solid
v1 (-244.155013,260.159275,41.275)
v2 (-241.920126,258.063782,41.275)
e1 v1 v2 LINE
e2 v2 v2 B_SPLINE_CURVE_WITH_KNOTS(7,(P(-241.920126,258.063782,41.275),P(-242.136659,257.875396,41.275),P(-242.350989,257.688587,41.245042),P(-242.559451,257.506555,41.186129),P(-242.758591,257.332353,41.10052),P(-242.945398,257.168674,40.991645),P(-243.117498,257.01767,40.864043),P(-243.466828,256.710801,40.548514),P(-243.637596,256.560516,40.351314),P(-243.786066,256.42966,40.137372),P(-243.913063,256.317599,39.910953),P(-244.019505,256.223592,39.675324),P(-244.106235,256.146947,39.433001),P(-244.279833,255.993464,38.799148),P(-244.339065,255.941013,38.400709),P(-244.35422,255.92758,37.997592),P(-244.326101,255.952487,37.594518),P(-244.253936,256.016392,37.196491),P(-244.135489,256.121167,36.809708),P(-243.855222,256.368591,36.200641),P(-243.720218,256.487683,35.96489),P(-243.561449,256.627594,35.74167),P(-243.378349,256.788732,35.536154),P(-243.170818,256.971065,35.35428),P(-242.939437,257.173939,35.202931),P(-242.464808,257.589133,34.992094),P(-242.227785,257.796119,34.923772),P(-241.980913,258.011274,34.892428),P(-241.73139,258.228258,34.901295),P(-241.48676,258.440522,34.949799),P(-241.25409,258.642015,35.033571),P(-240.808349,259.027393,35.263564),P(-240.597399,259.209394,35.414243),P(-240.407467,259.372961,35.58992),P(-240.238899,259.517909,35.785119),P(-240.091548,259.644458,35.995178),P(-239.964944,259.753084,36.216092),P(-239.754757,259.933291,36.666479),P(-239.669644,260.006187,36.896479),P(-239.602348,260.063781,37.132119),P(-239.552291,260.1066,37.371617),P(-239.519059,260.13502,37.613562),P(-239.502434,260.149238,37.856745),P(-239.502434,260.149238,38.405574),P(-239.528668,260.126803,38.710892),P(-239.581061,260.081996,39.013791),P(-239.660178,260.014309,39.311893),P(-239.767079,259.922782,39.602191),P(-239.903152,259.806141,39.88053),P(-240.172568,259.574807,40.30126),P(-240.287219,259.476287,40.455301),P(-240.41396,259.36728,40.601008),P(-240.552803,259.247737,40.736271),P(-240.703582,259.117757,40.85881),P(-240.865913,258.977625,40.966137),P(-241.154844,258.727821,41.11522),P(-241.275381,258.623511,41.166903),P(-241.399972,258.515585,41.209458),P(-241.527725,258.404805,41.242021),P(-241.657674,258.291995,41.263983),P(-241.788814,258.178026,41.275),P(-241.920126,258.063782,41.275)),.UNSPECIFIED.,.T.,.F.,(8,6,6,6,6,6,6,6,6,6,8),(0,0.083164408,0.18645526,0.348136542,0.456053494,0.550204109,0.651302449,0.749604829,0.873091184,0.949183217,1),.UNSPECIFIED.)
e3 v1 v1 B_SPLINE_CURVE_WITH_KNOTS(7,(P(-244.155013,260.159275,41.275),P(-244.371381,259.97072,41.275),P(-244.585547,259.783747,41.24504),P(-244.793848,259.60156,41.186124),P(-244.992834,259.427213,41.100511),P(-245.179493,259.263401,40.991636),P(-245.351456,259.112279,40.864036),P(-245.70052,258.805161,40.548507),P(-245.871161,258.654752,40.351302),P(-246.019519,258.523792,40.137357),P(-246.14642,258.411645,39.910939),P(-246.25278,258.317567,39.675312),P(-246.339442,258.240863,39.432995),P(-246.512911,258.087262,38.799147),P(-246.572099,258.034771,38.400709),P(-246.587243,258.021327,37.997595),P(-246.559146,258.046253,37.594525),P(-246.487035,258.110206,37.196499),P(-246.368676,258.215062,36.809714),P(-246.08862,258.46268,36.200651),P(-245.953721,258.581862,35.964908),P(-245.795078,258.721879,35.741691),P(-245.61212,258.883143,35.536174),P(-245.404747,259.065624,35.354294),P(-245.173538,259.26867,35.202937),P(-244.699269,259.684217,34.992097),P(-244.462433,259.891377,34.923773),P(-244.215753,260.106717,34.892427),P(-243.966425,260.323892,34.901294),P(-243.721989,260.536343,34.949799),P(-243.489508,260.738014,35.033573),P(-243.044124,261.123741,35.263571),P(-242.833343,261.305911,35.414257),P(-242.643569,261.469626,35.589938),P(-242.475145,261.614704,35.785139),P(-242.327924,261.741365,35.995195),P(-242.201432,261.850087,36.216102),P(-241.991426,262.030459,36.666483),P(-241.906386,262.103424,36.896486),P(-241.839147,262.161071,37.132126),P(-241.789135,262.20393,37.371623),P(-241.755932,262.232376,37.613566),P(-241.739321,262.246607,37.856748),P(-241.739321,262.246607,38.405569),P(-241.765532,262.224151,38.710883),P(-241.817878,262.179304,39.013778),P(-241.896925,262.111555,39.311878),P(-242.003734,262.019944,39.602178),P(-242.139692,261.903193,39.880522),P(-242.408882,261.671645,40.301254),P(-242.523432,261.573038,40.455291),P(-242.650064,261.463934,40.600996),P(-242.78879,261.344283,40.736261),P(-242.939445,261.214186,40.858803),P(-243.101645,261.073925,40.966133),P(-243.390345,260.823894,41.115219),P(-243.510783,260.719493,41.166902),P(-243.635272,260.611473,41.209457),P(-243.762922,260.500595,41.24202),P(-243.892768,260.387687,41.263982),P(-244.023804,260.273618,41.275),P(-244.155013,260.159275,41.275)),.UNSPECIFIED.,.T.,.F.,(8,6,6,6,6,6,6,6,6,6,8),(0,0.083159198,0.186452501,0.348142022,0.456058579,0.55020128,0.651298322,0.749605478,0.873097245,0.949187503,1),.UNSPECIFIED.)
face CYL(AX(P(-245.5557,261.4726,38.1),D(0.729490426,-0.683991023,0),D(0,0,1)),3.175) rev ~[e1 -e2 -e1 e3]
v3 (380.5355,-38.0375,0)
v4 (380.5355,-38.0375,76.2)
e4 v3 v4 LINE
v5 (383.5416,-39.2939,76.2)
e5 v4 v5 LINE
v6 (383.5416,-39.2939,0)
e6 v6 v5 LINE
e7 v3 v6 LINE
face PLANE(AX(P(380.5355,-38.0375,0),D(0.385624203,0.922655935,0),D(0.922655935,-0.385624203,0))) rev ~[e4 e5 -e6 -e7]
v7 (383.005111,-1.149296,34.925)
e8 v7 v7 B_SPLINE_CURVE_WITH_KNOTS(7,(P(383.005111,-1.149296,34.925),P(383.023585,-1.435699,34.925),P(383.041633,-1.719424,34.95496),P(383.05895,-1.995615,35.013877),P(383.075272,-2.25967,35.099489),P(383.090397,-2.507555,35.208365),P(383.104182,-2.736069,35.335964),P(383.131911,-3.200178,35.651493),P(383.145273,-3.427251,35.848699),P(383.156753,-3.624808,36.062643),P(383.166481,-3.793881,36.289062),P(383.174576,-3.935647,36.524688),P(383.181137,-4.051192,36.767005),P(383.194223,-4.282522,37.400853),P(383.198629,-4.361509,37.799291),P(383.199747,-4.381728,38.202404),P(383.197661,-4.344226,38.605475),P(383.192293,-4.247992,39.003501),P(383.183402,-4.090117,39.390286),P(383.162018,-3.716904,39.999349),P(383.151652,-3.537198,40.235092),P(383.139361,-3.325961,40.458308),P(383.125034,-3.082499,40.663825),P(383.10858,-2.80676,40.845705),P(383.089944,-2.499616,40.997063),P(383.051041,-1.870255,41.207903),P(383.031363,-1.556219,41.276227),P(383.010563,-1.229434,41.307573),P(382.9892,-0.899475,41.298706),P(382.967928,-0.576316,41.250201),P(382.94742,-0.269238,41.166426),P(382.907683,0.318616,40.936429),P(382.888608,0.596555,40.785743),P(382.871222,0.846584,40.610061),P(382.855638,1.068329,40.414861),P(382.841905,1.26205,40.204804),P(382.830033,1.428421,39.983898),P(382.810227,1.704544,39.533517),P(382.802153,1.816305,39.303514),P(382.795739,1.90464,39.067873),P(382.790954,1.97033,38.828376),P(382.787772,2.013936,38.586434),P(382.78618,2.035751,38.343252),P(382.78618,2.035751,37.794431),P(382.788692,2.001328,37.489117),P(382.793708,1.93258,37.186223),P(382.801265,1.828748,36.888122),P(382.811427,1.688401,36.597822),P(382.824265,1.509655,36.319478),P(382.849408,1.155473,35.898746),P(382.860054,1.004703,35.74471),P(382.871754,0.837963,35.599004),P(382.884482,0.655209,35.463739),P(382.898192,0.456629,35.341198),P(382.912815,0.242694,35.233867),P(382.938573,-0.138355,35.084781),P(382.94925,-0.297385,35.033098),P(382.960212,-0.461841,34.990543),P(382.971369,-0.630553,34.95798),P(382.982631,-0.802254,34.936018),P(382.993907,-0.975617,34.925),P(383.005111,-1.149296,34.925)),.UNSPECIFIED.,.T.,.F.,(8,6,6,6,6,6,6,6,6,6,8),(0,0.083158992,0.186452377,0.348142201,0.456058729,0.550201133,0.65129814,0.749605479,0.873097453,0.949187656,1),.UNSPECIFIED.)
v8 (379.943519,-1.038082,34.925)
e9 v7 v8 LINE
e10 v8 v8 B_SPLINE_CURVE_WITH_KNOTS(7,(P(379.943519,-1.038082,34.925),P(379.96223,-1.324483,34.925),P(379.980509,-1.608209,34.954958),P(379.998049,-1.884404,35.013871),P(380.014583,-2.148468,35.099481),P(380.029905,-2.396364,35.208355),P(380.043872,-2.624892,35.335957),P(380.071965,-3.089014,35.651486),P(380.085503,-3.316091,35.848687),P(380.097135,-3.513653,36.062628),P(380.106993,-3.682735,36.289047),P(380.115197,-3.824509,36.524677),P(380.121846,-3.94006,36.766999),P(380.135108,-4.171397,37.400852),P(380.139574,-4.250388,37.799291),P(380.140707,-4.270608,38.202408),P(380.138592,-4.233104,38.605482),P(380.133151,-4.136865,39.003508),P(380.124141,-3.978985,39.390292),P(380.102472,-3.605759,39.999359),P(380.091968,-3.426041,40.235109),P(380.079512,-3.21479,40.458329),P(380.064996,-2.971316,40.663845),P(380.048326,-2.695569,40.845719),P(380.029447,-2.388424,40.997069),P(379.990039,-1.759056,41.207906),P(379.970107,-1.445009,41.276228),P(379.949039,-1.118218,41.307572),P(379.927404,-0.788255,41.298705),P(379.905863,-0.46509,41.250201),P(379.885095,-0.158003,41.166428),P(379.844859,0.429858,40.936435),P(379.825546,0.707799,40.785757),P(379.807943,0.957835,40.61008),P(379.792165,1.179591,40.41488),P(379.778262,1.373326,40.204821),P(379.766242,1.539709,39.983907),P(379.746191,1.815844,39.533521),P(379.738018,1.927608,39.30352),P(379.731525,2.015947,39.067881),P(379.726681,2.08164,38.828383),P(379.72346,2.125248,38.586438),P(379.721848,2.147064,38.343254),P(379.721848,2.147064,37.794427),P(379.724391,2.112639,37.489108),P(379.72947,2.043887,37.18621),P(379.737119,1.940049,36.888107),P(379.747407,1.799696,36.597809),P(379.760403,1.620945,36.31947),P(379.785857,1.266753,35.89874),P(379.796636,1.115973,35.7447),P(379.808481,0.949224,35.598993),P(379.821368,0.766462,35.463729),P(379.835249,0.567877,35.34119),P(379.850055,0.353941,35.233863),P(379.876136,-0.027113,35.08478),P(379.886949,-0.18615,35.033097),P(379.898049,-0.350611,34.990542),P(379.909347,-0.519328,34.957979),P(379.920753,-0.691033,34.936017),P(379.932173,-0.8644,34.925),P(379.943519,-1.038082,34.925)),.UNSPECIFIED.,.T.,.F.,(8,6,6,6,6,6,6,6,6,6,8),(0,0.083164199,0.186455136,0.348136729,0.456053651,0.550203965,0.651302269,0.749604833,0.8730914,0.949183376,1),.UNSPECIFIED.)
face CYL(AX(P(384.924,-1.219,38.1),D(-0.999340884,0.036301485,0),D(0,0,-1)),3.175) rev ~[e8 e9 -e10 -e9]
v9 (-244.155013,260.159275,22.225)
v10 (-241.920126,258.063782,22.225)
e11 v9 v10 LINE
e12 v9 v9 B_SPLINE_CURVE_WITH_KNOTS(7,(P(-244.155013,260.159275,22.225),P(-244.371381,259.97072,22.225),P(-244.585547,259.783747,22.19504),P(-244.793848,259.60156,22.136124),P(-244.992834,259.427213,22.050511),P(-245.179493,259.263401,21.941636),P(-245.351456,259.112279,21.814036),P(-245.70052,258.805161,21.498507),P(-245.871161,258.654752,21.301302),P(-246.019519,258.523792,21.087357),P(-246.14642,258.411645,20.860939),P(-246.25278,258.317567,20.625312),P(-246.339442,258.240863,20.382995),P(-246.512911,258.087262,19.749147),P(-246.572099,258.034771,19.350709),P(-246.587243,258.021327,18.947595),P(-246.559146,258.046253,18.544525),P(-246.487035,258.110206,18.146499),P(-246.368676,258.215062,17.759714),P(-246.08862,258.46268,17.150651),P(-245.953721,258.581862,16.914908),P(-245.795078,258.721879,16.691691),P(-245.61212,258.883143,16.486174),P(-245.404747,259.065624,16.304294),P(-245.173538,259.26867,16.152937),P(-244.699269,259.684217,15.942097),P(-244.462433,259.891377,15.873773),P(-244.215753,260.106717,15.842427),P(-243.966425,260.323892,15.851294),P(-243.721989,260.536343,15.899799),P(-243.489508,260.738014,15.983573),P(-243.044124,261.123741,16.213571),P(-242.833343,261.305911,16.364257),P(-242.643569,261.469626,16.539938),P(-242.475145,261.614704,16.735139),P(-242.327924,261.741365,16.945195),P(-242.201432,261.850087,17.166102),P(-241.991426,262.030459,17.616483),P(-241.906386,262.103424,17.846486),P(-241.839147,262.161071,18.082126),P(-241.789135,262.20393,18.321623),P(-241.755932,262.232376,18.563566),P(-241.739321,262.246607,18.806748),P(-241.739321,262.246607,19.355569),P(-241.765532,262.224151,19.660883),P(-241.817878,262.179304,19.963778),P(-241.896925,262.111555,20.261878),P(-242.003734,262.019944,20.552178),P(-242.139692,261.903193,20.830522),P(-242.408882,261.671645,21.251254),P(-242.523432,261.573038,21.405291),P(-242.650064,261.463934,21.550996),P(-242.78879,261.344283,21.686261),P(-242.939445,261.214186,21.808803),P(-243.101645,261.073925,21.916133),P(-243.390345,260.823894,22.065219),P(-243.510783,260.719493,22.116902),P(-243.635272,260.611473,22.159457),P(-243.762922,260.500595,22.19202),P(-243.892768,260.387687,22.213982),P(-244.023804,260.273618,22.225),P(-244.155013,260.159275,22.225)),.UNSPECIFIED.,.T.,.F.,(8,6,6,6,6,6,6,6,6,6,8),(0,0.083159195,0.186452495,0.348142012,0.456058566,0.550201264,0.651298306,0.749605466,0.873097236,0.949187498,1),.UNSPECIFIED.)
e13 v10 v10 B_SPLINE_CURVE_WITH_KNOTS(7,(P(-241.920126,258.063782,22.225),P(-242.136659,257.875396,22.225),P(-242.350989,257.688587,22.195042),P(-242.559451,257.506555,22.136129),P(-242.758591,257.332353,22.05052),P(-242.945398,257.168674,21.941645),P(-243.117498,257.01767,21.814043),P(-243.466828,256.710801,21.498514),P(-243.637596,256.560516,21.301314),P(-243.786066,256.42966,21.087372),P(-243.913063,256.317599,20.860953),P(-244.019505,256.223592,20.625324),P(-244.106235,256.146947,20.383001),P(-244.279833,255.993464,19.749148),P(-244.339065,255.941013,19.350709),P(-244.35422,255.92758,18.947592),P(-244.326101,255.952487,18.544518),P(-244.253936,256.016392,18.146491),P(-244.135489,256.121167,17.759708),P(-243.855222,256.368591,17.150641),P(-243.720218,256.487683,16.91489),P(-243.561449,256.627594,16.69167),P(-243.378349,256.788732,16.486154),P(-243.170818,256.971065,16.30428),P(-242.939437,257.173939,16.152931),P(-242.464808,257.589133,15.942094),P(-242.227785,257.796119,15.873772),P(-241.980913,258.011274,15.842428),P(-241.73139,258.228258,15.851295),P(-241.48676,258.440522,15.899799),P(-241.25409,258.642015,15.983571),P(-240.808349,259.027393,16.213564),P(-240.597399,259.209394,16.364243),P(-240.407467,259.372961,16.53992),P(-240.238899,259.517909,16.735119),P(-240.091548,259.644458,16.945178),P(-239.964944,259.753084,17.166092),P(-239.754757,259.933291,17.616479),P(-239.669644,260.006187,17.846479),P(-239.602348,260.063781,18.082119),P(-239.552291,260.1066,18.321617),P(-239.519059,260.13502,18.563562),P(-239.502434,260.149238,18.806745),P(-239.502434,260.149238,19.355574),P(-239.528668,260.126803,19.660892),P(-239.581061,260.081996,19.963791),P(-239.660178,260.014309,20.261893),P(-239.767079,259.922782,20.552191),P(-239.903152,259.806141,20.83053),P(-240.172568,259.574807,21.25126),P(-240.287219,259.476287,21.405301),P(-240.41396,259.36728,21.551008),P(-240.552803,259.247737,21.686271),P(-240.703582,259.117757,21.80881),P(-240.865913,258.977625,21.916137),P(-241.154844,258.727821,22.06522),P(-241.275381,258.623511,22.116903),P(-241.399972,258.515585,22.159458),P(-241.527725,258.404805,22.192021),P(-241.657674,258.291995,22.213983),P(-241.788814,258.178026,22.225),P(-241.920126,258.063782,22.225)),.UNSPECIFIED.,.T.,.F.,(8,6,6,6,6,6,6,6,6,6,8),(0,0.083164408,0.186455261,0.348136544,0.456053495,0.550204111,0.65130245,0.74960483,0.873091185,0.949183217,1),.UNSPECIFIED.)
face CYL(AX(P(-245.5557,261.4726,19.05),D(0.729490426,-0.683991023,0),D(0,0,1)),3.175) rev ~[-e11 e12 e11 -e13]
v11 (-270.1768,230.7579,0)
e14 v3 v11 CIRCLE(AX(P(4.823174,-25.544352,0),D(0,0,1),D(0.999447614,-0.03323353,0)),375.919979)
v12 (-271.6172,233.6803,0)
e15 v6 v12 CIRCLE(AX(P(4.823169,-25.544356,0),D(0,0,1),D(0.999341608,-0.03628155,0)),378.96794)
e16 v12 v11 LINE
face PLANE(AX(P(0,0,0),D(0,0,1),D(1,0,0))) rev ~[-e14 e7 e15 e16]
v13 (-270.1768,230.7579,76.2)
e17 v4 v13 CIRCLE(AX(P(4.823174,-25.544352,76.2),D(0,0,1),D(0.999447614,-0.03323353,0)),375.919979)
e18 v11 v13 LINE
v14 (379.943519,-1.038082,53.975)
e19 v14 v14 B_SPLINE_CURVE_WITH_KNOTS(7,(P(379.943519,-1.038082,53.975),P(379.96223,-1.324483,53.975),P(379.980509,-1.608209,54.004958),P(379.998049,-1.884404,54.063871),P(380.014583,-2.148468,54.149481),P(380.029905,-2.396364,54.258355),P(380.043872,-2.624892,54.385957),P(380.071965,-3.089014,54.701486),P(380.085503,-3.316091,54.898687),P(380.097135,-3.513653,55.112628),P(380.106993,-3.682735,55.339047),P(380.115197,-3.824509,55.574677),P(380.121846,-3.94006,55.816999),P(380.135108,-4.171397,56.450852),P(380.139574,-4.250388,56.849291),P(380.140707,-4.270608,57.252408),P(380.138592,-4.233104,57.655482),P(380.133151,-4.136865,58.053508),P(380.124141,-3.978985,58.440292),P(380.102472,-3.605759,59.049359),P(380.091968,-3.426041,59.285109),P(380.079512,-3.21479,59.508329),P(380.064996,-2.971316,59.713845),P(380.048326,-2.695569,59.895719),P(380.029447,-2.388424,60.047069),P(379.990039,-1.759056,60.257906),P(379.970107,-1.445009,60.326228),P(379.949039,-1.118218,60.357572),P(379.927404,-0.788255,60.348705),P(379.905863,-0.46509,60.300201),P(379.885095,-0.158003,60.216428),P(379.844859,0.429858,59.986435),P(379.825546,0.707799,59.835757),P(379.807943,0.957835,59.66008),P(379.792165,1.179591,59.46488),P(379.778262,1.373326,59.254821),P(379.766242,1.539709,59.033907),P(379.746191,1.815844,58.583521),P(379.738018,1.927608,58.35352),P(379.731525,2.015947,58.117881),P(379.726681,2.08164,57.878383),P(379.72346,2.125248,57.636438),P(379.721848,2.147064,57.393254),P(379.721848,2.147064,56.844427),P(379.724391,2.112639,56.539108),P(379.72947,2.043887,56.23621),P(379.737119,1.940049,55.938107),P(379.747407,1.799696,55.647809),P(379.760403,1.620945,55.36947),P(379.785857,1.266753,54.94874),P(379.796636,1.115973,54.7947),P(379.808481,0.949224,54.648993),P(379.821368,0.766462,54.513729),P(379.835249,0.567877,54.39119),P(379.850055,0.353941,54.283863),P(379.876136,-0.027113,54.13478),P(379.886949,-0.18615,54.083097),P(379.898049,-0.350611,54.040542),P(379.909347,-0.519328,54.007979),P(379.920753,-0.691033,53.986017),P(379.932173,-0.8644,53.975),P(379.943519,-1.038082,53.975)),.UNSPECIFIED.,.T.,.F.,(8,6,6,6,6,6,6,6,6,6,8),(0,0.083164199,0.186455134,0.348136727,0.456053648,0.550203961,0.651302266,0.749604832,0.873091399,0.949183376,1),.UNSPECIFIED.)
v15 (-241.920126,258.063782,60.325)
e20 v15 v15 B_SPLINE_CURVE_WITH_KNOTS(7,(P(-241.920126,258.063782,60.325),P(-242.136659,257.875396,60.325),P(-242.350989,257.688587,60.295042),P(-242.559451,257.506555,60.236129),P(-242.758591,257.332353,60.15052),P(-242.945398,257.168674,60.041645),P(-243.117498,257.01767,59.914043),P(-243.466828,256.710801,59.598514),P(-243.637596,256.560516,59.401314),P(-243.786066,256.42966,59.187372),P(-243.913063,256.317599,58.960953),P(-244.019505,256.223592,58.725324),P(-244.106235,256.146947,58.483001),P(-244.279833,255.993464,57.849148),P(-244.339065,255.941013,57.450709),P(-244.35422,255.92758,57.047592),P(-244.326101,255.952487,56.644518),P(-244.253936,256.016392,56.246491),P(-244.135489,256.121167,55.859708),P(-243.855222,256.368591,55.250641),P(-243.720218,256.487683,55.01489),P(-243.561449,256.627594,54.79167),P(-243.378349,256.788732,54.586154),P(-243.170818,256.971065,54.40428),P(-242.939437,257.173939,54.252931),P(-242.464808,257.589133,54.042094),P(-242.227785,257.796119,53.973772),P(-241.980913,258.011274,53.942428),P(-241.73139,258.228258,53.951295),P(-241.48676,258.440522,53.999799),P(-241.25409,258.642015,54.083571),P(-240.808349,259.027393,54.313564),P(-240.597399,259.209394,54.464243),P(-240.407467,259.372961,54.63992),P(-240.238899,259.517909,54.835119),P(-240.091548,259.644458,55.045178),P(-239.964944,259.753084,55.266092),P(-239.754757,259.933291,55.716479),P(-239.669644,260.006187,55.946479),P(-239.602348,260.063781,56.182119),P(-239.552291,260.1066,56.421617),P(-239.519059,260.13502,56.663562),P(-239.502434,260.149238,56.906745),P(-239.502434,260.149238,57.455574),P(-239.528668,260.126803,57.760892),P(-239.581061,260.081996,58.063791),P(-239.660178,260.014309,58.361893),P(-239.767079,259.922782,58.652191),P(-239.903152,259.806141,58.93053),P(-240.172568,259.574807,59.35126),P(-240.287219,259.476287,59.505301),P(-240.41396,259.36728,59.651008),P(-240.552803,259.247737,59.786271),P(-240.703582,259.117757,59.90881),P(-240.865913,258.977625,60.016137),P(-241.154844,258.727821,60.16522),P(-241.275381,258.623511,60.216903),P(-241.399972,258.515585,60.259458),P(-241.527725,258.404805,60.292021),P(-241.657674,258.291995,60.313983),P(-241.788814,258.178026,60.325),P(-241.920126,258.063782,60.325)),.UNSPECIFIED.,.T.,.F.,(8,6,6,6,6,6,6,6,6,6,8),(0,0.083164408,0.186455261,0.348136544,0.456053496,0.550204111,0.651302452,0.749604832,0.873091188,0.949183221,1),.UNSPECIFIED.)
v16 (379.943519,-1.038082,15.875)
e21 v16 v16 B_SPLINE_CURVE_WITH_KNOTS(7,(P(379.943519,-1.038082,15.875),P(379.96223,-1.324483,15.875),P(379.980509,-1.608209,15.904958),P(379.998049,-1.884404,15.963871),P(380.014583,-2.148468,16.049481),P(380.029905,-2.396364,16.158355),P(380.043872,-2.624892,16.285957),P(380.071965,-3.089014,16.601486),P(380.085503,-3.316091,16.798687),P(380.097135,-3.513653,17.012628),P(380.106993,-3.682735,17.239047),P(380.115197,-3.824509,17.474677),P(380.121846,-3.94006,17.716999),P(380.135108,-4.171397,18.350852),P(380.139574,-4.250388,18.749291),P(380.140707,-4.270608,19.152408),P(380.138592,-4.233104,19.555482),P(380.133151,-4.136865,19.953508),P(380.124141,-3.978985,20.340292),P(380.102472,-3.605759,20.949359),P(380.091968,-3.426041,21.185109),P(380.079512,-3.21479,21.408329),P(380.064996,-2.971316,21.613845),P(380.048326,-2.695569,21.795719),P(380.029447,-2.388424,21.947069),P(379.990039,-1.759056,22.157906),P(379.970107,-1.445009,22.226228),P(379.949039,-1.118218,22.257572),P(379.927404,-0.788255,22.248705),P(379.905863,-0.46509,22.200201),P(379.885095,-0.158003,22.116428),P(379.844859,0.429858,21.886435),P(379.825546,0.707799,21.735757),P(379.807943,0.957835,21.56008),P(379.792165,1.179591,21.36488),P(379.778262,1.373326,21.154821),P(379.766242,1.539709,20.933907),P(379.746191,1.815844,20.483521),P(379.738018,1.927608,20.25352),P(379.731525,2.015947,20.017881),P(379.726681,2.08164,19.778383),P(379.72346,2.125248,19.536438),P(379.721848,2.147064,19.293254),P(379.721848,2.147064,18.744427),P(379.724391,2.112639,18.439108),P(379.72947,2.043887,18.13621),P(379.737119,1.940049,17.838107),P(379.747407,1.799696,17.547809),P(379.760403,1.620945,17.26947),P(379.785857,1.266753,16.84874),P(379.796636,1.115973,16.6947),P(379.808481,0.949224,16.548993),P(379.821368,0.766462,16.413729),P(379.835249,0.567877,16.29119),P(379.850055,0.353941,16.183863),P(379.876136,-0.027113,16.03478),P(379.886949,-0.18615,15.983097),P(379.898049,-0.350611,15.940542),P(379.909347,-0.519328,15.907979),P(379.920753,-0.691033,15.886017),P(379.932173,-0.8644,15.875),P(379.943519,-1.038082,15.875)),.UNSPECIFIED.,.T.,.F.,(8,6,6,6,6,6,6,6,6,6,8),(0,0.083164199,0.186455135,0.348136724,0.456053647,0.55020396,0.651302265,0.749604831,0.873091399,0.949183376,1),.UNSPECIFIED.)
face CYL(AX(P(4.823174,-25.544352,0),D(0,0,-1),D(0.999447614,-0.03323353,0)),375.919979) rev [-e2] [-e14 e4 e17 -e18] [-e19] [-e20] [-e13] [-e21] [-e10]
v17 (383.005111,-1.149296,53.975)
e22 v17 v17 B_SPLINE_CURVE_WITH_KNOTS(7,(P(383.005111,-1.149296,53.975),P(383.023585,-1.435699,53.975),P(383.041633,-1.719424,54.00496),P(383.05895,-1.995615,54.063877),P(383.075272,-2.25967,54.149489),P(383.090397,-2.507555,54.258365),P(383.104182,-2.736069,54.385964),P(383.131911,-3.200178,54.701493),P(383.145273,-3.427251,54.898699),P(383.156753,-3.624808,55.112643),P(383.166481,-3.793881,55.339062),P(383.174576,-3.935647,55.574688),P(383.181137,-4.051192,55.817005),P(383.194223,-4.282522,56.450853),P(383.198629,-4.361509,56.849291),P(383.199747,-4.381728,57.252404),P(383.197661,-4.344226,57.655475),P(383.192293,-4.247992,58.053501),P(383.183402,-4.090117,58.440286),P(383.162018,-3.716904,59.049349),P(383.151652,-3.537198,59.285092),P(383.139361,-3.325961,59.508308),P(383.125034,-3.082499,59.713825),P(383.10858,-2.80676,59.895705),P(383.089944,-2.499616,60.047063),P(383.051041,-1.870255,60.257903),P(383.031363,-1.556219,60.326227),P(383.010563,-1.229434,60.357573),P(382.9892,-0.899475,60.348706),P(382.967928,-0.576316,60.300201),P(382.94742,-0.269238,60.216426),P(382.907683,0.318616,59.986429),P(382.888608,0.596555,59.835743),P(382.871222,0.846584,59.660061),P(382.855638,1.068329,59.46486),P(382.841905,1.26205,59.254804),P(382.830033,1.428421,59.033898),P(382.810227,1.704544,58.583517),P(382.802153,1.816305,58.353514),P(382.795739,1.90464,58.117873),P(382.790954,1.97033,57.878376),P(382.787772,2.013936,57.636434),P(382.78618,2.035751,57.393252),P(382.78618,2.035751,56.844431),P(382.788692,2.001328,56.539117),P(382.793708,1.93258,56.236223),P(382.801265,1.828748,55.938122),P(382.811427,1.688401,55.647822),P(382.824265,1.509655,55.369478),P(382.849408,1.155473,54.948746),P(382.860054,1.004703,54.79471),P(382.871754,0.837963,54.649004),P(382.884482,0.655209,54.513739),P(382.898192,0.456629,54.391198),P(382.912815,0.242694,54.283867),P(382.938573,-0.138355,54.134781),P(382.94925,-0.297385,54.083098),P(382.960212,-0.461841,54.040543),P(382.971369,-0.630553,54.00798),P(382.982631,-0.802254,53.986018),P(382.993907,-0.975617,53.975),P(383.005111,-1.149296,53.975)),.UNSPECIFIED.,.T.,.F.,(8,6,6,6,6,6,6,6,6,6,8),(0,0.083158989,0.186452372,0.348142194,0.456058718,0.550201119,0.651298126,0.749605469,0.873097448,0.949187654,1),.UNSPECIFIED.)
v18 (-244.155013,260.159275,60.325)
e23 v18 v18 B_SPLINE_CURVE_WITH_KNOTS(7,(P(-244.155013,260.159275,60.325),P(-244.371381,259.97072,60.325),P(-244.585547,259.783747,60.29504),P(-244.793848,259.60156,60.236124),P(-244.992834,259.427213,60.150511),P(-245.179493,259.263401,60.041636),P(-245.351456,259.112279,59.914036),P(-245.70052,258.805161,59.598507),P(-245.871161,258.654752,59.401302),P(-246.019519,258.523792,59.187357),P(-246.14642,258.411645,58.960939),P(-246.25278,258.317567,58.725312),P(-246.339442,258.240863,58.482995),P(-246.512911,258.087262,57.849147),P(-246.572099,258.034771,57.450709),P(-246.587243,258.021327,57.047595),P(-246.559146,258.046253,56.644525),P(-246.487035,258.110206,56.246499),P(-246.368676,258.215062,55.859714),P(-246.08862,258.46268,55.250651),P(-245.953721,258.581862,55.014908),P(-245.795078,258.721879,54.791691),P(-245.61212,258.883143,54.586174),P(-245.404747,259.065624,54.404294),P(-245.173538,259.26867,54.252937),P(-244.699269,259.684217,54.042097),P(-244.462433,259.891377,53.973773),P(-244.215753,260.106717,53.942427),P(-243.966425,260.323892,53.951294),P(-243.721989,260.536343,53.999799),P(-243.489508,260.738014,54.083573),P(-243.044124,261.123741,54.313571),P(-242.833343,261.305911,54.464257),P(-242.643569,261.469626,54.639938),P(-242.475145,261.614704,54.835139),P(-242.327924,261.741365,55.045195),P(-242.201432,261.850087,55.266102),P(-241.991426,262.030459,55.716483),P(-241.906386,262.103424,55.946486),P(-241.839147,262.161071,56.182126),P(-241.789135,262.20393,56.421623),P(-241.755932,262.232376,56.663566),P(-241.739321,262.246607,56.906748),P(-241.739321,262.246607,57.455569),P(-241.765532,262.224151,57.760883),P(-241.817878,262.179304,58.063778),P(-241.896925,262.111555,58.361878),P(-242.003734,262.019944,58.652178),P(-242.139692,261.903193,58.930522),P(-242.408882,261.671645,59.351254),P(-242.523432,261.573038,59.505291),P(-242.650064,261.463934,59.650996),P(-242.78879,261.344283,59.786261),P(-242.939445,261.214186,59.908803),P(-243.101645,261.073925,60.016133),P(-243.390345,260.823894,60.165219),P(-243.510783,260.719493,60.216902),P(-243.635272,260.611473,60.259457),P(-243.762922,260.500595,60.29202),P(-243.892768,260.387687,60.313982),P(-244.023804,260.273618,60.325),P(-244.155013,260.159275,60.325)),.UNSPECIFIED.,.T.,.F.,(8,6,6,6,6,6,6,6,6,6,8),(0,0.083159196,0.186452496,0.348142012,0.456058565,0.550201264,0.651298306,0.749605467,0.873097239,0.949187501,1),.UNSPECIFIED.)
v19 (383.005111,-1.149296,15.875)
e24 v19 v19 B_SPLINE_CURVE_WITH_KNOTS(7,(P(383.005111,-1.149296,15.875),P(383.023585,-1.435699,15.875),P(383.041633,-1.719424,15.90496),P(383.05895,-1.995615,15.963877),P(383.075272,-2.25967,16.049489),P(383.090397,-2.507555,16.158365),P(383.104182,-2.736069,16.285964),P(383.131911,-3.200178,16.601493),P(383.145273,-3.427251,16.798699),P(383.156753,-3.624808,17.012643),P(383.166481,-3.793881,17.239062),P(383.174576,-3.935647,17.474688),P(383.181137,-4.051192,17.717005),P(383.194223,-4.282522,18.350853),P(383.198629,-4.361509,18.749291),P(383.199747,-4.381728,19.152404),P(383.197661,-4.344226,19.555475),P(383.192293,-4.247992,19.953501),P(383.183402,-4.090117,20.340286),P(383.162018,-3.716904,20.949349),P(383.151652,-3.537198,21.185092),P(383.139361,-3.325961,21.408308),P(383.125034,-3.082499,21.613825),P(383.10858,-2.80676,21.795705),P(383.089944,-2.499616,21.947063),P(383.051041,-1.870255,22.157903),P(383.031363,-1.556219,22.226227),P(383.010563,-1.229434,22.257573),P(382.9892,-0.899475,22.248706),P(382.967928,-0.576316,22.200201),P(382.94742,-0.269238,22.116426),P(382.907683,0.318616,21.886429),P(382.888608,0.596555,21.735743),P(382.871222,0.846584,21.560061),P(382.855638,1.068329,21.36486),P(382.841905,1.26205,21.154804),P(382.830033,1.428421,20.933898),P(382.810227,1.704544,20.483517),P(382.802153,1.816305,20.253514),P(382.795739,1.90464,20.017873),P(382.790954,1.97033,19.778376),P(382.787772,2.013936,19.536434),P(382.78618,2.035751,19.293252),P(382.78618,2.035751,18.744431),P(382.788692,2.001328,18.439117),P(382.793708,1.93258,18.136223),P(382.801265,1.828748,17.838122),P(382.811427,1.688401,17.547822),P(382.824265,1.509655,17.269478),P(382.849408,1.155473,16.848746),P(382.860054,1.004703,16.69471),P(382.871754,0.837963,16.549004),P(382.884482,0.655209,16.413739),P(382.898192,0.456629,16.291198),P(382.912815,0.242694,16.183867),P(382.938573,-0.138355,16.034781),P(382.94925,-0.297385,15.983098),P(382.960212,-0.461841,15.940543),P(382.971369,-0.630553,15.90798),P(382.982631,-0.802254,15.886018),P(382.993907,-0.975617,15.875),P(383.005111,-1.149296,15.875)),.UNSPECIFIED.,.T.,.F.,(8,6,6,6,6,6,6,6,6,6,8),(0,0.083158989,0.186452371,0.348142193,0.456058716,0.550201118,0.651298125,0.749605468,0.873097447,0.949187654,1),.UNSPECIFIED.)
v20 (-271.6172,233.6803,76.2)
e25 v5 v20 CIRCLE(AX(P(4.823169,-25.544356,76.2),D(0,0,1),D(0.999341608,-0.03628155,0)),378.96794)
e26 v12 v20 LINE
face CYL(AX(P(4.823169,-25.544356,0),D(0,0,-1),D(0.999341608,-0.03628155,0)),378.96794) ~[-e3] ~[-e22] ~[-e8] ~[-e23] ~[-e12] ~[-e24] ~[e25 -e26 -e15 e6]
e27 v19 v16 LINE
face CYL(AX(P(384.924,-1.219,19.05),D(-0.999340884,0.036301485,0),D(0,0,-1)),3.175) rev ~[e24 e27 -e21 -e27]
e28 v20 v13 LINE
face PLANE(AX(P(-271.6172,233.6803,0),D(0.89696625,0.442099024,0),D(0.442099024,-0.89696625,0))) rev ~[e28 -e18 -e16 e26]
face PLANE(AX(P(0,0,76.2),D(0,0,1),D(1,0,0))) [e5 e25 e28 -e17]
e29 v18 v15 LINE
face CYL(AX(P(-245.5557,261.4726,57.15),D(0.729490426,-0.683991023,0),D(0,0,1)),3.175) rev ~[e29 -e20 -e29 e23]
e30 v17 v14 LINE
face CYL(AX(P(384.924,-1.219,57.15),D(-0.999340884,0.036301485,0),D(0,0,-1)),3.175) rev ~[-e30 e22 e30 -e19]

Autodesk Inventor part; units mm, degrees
ref_plane "YZ Plane" through (0, 0, 0) normal (1, 0, 0) x (0, 1, 0)
sketch "Sketch1" plane through (0, 0, 0) normal (0, 0, 1) x (1, 0, 0)
  arc A0 (380.5355, -38.0375) -> (-270.1768, 230.7579) centre (4.8231, -25.5444) ccw
  arc A1 (383.5416, -39.2939) -> (-271.6172, 233.6803) centre (4.8231, -25.5444) ccw
  line L0 (-271.6172, 233.6803) -> (-270.1768, 230.7579)
  line L1 (380.5355, -38.0375) -> (383.5416, -39.2939)
  point P0 (0, 0)
  dimension "d0" = 375.92
  dimension "d1" = 138.92
  dimension "d3" = 138.92
  dimension "d4" = 378.968
extrude "Extrusion1" add sketch "Sketch1" along normal blind 76.2
ref_plane "Work Plane3" through (383.5416, -39.2939, 0) normal (0.9993, -0.0363, 0) x (0.0363, 0.9993, 0)
ref_plane "Work Plane4" through (-271.6172, 233.6803, 0) normal (-0.7295, 0.684, 0) x (-0.684, -0.7295, 0)
sketch "Sketch2" plane through (383.5416, -39.2939, 0) normal (0.9993, -0.0363, 0) x (0.0363, 0.9993, 0)
  line L0 (249.0245, 76.2) -> (0, 76.2) projected
  line L1 (0, 0) -> (0, 76.2) projected
  line L2 (249.0245, 0) -> (0, 0) projected
  line L3 (249.0245, 0) -> (249.0245, 76.2) projected
  point P0 (25.3526, 0)
  point P1 (38.1, 57.15)
  point P2 (38.1, 38.1)
  point P3 (38.1, 19.05)
  dimension "d7" = 38.1
  dimension "d8" = 38.1
  dimension "d9" = 38.1
  dimension "d10" = 19.05
  dimension "d11" = 38.1
  dimension "d12" = 57.15
sketch "Sketch3" plane through (-271.6172, 233.6803, 0) normal (-0.7295, 0.684, 0) x (-0.684, -0.7295, 0)
  line L0 (0, 0) -> (0, 76.2) projected
  line L1 (-378.968, 0) -> (0, 0) projected
  point P0 (-15.3344, 0)
  point P1 (-38.1, 19.05)
  point P2 (-38.1, 38.1)
  point P3 (-38.1, 57.15)
  point P4 (-249.0245, 0)
  dimension "d13" = 38.1
  dimension "d14" = 38.1
  dimension "d15" = 38.1
  dimension "d16" = 19.05
  dimension "d17" = 38.1
  dimension "d18" = 57.15
hole "Hole1" at (-245.5557, 261.4726, 57.15) at (-245.5557, 261.4726, 38.1) at (-245.5557, 261.4726, 19.05) direction (0.7295, -0.684, 0) diameter 6.35 depth 25.4 tip angle 118
hole "Hole2" at (384.924, -1.219, 57.15) at (384.924, -1.219, 38.1) at (384.924, -1.219, 19.05) direction (-0.9993, 0.0363, 0) diameter 6.35 depth 25.4 tip angle 118
thread "Thread1" size "1/4-20 UNC" class "2B" standard "ANSI Unified Screw Threads" full length
thread "Thread2" size "1/4-20 UNC" class "2B" standard "ANSI Unified Screw Threads" full length
thread "Thread3" size "1/4-20 UNC" class "2B" standard "ANSI Unified Screw Threads" full length
thread "Thread4" size "1/4-20 UNC" class "2B" standard "ANSI Unified Screw Threads" full length
thread "Thread5" size "1/4-20 UNC" class "2B" standard "ANSI Unified Screw Threads" full length
thread "Thread6" size "1/4-20 UNC" class "2B" standard "ANSI Unified Screw Threads" full length
equation "\"d3\" = d1"
properties part number "curvedTrack"
